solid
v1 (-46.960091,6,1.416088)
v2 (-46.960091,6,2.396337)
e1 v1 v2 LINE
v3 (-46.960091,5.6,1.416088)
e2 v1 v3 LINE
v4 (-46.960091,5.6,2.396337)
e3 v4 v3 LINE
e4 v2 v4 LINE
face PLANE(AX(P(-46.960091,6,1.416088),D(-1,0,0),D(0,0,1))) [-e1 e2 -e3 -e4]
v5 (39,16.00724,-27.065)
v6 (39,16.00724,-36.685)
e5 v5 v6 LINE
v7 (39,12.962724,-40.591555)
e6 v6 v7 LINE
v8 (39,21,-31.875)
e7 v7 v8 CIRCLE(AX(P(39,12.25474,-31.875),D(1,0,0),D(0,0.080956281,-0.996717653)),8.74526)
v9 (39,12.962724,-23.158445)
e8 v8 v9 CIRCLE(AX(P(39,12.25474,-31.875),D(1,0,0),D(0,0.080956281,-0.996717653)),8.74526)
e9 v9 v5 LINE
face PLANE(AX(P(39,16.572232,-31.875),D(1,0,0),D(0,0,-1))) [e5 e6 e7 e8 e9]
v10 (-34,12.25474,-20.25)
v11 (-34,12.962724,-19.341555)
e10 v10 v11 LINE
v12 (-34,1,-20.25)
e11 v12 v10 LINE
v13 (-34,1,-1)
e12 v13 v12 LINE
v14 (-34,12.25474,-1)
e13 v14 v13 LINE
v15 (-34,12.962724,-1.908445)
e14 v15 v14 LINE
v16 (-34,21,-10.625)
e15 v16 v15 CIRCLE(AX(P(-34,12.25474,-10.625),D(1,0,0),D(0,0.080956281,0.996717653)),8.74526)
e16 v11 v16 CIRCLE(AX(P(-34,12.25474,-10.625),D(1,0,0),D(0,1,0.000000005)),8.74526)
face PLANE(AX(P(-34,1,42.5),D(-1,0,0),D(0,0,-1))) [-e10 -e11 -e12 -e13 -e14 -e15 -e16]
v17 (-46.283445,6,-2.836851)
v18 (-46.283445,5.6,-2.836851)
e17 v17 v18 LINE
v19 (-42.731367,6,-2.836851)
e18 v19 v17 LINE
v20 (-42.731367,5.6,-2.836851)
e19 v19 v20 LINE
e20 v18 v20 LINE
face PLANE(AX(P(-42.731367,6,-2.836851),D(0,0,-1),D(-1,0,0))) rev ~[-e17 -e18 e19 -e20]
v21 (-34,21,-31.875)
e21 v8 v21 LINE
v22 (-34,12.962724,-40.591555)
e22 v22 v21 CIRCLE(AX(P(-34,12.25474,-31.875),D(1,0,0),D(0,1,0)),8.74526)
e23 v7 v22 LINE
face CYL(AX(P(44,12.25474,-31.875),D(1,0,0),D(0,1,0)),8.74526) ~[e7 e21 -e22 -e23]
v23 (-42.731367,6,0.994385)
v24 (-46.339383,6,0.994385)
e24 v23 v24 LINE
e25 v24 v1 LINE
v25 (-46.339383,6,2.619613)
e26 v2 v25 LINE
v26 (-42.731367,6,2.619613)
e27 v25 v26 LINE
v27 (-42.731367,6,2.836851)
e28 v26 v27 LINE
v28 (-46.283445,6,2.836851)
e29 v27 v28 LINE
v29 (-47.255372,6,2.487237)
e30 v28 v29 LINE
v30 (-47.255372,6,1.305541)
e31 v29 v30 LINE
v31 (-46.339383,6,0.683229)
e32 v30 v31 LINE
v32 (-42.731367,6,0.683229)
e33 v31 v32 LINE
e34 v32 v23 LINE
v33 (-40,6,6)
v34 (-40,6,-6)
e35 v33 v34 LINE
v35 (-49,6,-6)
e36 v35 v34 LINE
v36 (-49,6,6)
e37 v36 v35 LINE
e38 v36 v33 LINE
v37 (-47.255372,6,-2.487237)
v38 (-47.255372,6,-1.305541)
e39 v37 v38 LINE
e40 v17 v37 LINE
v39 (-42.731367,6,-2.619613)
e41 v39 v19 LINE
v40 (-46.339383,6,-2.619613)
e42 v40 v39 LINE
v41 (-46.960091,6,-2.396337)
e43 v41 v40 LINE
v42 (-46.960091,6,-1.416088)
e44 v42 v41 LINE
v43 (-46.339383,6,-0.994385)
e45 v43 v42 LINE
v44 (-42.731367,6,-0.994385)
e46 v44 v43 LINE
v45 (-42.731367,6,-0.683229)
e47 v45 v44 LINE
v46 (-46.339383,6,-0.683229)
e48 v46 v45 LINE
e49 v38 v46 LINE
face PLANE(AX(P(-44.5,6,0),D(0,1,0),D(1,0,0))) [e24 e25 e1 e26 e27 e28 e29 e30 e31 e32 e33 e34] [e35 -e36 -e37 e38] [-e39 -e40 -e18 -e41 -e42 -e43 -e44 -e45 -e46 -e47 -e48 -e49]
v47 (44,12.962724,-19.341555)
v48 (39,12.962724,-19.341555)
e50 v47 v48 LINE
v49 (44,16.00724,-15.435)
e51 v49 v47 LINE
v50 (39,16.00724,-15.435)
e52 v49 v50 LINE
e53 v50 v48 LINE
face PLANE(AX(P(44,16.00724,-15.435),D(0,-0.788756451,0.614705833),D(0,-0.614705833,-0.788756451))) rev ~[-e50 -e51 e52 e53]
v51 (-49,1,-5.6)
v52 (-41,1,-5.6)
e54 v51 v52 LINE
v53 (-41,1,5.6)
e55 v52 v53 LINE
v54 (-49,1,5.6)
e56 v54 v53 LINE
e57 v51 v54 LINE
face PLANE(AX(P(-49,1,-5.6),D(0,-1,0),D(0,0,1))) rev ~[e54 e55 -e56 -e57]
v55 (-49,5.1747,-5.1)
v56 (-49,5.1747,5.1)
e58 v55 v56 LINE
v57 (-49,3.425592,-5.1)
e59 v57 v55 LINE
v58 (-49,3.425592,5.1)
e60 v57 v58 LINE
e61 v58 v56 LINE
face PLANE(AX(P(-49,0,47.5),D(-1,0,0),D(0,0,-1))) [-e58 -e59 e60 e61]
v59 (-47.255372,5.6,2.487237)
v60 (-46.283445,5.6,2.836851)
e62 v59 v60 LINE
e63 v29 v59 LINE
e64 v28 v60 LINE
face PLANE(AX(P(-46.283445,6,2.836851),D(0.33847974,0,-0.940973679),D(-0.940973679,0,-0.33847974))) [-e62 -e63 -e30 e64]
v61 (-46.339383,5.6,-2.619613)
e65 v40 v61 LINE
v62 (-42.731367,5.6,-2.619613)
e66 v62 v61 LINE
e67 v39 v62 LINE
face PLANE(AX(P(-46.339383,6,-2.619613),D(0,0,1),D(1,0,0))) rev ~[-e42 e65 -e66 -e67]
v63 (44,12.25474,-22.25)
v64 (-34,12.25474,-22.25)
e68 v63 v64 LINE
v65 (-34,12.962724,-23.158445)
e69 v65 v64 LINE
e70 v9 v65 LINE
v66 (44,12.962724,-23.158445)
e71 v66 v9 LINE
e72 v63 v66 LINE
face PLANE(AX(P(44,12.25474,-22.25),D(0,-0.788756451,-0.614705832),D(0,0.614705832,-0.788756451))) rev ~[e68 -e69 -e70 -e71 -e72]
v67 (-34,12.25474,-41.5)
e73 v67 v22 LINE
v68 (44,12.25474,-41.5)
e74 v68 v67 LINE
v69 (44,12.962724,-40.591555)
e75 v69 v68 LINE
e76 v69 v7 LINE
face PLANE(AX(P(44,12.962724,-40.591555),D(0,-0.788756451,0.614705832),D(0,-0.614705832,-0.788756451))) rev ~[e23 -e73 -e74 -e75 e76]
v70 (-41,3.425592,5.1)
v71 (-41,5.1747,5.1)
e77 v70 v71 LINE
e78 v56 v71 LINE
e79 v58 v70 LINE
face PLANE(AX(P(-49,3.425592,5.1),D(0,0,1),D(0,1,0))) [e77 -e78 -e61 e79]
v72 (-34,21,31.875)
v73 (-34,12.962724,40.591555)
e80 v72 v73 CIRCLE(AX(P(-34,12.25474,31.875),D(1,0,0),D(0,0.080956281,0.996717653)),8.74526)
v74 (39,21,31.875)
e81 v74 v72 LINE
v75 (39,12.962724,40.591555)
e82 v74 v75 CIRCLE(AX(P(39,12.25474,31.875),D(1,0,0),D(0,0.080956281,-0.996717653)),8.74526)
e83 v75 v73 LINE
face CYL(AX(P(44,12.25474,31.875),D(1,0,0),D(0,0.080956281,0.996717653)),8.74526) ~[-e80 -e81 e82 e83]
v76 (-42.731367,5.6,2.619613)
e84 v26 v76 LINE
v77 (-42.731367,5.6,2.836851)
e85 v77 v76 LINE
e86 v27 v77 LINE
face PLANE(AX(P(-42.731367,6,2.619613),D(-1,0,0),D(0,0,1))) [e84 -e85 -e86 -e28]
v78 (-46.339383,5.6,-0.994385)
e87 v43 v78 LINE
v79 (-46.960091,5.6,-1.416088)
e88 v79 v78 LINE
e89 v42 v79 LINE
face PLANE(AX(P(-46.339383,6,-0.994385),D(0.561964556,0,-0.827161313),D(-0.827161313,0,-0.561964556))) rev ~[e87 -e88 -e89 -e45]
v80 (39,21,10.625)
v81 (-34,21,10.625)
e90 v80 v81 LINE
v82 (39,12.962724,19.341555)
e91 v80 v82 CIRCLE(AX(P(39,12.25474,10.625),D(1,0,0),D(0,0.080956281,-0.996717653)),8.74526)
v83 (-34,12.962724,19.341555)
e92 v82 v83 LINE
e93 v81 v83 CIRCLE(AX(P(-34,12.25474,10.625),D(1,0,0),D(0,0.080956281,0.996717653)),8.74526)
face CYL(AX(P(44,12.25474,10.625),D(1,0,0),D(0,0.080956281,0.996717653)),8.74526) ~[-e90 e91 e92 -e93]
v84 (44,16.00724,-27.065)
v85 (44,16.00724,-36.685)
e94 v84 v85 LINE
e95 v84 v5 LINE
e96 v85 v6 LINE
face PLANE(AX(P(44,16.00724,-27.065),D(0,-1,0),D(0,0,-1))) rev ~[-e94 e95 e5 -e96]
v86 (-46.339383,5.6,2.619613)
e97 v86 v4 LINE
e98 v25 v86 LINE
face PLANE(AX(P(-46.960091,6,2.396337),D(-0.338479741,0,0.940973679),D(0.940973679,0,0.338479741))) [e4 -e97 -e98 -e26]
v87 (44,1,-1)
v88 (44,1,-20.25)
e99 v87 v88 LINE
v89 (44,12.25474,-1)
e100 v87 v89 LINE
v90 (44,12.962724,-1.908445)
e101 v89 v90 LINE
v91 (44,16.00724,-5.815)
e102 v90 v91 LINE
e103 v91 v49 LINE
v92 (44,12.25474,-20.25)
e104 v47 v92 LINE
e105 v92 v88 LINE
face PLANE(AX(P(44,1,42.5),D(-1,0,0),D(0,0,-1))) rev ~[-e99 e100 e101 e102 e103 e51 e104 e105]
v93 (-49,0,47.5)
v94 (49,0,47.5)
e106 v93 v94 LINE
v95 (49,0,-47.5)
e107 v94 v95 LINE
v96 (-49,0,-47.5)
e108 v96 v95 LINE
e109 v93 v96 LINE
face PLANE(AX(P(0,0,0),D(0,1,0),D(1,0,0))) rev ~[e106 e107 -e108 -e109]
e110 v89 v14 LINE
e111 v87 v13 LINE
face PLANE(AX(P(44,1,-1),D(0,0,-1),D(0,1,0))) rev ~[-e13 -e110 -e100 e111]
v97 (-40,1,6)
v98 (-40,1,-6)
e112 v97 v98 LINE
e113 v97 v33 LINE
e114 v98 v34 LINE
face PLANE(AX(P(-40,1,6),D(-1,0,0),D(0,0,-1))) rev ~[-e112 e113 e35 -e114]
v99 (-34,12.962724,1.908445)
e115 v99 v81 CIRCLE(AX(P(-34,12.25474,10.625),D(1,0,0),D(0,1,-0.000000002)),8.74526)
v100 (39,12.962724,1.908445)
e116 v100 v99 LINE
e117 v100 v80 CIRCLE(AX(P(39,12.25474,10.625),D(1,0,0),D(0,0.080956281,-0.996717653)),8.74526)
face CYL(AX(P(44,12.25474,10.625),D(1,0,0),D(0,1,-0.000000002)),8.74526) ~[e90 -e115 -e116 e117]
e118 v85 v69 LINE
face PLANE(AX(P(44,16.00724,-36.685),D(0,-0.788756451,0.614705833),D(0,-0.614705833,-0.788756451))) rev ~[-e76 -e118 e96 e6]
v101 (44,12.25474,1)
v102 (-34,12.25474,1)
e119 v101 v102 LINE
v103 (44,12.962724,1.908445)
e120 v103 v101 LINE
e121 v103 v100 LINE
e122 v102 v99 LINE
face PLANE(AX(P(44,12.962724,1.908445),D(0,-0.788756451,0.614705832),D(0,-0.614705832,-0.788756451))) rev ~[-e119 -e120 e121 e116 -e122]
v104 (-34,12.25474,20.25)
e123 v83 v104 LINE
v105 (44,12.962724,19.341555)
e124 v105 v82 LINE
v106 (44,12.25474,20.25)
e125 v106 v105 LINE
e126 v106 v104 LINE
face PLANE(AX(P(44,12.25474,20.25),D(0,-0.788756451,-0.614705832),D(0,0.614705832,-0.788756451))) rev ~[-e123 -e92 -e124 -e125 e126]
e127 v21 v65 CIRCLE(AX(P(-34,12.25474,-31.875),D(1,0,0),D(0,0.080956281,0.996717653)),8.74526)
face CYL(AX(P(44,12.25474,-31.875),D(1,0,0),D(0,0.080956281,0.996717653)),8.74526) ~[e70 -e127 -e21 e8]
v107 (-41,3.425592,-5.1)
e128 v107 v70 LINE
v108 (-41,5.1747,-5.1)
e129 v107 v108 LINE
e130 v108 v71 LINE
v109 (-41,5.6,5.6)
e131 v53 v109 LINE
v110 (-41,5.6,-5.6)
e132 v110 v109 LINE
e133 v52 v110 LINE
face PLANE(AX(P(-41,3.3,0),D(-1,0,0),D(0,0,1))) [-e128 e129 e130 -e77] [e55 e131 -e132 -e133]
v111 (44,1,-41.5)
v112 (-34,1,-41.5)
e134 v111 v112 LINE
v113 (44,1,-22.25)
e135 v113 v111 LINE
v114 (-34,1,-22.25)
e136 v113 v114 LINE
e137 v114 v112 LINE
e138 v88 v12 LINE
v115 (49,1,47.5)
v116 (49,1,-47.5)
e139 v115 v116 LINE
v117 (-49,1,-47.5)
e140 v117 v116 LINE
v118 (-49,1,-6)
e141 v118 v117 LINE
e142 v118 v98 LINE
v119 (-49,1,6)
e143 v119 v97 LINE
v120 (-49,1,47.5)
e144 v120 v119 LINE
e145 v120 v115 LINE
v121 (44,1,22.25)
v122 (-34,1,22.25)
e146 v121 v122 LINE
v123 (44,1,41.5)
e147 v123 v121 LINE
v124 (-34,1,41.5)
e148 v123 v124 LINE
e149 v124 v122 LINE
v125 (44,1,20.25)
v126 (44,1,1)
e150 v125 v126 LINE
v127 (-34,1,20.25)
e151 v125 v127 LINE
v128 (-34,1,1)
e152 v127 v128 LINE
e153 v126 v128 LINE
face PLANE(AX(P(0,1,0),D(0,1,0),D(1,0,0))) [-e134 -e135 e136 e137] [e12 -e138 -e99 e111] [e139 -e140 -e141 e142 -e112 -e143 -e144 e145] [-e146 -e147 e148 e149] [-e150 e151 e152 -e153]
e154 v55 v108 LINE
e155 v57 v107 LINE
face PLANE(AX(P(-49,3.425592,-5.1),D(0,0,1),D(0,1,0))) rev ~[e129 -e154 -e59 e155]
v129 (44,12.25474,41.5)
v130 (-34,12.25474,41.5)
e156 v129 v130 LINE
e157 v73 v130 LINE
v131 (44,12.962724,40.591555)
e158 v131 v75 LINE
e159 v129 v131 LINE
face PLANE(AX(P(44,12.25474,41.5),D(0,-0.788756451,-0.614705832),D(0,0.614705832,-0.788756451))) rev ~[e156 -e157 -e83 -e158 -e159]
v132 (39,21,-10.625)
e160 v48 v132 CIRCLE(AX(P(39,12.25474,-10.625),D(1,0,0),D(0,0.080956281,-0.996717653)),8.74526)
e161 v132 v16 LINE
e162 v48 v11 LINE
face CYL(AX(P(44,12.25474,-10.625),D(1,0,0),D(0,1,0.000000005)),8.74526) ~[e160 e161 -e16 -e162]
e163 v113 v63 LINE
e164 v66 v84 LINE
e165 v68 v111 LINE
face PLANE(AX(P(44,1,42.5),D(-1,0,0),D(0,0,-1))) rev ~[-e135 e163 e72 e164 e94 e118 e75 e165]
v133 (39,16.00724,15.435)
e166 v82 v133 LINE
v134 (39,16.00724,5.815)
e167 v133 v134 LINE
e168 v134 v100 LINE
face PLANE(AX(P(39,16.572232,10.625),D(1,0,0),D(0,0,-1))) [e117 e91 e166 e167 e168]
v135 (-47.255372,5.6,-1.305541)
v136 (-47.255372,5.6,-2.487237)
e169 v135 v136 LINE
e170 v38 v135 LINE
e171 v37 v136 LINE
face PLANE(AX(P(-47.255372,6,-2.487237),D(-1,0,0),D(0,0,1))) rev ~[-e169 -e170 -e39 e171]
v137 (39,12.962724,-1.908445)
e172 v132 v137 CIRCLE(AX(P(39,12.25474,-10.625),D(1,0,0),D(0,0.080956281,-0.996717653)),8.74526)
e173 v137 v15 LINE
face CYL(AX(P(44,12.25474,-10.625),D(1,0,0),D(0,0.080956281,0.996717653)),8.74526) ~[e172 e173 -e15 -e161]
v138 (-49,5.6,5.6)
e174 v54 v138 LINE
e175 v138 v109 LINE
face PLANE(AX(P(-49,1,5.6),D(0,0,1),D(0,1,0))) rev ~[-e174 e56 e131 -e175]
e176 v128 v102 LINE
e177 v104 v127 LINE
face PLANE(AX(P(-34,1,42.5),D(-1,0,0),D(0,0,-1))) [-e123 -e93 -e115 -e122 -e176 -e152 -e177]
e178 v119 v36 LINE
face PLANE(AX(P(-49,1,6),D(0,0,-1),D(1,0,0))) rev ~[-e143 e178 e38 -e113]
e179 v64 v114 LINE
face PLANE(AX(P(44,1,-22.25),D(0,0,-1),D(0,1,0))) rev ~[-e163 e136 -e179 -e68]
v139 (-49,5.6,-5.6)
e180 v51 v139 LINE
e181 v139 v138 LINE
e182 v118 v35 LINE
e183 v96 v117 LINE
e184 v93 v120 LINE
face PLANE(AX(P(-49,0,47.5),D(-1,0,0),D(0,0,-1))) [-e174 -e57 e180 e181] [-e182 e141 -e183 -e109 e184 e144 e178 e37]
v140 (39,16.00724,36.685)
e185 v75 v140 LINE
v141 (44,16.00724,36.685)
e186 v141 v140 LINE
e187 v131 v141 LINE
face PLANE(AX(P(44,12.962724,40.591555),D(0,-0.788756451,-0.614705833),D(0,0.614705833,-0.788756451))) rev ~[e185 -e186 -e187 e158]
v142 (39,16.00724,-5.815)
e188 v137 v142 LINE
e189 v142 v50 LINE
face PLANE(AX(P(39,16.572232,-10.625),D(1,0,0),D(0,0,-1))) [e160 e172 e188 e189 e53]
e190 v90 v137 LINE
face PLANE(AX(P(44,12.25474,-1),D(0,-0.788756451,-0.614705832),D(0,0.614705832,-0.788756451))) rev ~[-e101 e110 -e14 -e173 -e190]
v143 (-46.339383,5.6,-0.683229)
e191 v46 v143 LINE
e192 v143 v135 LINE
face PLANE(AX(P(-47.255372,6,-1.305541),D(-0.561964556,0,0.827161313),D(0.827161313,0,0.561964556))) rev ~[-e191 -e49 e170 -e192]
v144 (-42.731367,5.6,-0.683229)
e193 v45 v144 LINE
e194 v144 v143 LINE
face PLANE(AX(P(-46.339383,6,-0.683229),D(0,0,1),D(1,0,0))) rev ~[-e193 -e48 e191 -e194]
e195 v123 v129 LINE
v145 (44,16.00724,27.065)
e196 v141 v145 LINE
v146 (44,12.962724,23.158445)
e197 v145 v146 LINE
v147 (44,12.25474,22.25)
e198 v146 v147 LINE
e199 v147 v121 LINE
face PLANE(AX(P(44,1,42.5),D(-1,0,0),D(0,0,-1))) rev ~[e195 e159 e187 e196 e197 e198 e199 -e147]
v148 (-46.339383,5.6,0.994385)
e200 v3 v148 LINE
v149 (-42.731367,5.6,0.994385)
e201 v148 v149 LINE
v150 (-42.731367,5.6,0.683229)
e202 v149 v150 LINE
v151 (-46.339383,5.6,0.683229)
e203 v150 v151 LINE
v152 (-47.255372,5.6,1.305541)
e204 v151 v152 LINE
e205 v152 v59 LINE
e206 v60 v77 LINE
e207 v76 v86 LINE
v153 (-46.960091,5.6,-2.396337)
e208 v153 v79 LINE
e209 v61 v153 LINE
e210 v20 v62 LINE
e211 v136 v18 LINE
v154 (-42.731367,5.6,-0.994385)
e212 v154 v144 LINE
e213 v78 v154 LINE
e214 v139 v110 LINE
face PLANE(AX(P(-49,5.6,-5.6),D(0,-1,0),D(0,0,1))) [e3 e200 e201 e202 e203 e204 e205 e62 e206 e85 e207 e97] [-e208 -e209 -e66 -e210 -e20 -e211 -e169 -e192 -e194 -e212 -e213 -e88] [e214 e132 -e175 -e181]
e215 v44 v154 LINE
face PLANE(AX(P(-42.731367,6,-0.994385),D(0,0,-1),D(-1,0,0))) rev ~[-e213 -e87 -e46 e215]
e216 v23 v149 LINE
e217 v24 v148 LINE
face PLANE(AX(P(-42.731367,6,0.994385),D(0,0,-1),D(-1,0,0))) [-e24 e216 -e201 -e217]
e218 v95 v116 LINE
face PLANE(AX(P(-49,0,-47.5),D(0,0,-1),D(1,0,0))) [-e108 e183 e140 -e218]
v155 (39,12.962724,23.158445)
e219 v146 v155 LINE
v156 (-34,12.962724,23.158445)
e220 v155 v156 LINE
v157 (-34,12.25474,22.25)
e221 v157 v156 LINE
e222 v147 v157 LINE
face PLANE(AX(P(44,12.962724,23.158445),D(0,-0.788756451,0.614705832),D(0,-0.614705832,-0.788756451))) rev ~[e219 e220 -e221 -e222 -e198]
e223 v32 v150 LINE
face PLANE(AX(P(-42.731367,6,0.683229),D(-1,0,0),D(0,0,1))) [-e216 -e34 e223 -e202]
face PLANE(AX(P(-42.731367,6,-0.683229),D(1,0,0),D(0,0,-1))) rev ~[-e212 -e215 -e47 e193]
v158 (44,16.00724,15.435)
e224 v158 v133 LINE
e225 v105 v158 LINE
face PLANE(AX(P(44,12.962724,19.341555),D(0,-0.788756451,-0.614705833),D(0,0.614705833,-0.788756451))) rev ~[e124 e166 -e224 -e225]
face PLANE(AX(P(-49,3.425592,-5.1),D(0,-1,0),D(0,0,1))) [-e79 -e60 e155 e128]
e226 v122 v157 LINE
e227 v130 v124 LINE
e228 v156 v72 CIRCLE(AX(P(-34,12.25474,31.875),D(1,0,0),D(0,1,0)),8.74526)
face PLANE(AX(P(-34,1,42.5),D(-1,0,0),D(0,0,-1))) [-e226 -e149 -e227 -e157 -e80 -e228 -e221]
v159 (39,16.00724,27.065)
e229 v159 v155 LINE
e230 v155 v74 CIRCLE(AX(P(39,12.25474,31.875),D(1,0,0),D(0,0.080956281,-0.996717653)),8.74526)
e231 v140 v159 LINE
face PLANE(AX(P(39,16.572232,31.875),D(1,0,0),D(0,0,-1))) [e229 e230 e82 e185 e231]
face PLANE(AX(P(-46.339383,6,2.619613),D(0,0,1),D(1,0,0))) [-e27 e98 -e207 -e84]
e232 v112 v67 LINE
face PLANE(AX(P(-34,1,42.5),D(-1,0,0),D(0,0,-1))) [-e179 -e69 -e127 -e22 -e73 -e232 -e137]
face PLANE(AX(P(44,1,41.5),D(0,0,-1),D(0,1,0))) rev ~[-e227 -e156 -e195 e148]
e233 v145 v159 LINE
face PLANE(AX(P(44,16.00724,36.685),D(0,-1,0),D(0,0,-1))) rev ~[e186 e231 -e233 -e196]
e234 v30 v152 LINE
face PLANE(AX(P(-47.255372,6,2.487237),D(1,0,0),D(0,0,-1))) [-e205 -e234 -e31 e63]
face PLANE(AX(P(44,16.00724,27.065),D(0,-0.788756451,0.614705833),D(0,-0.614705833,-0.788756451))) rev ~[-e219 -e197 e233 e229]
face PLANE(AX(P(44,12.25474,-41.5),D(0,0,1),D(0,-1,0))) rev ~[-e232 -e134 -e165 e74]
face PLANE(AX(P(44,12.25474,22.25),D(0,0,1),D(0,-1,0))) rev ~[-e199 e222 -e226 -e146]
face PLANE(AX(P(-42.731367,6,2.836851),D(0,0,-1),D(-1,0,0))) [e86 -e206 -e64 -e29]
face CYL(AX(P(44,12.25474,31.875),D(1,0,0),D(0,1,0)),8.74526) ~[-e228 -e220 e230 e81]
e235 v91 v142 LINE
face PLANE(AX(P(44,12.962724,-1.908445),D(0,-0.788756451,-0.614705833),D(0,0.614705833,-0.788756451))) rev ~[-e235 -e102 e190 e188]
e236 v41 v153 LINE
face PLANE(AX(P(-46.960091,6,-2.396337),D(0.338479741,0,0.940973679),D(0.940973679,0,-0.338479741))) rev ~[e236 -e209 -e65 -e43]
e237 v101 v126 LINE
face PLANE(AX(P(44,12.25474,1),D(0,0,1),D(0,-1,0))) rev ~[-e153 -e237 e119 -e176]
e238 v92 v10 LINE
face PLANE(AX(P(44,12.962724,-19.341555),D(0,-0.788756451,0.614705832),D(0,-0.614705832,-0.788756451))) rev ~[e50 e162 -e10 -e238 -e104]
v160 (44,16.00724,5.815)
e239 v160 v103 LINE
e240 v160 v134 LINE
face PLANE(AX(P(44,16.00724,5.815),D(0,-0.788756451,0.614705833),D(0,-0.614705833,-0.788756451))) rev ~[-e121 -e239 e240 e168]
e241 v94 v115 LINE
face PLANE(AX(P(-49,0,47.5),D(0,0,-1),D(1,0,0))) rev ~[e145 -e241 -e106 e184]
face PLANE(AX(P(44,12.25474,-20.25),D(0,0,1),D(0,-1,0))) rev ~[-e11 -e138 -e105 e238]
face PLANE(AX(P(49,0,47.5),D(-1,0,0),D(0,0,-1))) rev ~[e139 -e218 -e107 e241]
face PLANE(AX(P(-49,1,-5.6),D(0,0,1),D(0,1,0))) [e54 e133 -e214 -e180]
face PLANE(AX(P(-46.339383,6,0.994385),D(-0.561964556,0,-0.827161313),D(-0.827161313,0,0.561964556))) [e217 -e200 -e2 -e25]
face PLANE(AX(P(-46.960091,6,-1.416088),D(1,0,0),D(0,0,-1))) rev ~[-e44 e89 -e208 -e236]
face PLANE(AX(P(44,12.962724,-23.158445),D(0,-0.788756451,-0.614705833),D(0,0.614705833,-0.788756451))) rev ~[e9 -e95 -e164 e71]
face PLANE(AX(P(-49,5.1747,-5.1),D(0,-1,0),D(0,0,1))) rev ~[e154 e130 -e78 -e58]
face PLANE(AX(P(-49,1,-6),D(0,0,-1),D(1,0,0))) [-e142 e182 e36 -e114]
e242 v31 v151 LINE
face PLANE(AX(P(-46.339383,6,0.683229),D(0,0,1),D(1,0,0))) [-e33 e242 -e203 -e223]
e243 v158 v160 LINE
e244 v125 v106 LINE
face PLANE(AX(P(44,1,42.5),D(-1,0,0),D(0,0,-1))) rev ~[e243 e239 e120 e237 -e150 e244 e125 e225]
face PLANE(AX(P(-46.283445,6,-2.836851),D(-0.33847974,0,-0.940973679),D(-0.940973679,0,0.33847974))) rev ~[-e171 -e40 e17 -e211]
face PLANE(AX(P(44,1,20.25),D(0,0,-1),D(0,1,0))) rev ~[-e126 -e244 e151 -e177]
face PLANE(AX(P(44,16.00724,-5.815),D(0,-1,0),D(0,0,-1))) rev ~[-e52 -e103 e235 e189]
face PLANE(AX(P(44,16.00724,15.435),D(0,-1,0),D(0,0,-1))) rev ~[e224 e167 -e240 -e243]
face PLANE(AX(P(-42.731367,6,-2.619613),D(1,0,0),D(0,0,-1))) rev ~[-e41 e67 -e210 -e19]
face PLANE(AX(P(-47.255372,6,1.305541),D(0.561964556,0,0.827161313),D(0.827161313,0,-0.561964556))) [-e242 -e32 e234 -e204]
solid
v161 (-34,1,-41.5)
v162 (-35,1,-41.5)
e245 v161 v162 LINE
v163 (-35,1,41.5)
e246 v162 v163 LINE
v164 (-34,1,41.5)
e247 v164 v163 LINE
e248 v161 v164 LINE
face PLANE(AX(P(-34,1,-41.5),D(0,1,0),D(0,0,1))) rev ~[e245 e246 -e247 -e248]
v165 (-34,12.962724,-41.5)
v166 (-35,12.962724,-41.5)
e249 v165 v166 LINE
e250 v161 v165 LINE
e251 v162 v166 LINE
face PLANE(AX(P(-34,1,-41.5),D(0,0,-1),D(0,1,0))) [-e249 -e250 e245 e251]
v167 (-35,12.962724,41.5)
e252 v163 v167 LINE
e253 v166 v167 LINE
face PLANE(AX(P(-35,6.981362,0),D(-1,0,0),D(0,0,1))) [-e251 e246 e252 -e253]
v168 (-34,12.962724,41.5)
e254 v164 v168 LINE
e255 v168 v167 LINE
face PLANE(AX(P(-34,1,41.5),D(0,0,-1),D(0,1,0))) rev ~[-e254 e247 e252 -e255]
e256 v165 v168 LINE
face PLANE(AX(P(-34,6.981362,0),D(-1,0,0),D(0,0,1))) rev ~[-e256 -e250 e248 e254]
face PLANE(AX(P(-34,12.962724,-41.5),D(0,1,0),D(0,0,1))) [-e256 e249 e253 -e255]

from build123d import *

# Parameters (mm, degrees)
SKETCH_1_W          = 98
SKETCH_1_H          = 95
EXTRUDE_1_DEPTH     = 1
SKETCH_2_W          = 78
SKETCH_2_H          = 85
EXTRUDE_2_DEPTH     = 20
CUT_EXTRUDE_1_DEPTH = 100
CUT_EXTRUDE_2_DEPTH = 5
SKETCH_5_W          = 9
SKETCH_5_H          = 12
EXTRUDE_3_DEPTH     = 5
SKETCH_6_W          = 11.2
SKETCH_6_H          = 4.6
SKETCH_6_W_2        = 10.2
SKETCH_6_H_2        = 1.749108458
CUT_EXTRUDE_4_DEPTH = 8
CUT_EXTRUDE_5_DEPTH = 0.5
SKETCH_8_W          = 83
SKETCH_8_H          = 11.962724137
EXTRUDE_4_DEPTH     = 1


with BuildPart() as part:
    # 스케치1 → 보스-돌출1 (new body)
    with BuildSketch(Plane(origin=(0, 0, 0), x_dir=(1, 0, 0), z_dir=(0, 1, 0))):
        Rectangle(SKETCH_1_W, SKETCH_1_H)
    extrude(amount=EXTRUDE_1_DEPTH)

    # 스케치2 → 보스-돌출2 (add)
    with BuildSketch(Plane(origin=(0, 1, 0), x_dir=(1, 0, 0), z_dir=(0, 1, 0))):
        with Locations((5, 0)):
            Rectangle(SKETCH_2_W, SKETCH_2_H)
    extrude(amount=EXTRUDE_2_DEPTH)

    # 스케치4 → 컷-돌출1 (cut)
    with BuildSketch(Plane(origin=(44, 0, 0), x_dir=(0, 0, -1), z_dir=(1, 0, 0))):
        with BuildLine():
            Line((-42.5, 1), (-41.5, 1))
            Line((-41.5, 1), (-41.5, 12.254740451))
            Line((-41.5, 12.254740451), (-40.591554577, 12.962724137))
            ThreePointArc((-40.591554577, 12.962724137), (-37.80324019, 18.684012014), (-31.875, 21))
            Line((-31.875, 21), (-42.5, 21))
            Line((-42.5, 21), (-42.5, 1))
        make_face()
        with BuildLine():
            Line((-22.25, 12.254740451), (-22.25, 1))
            Line((-22.25, 1), (-20.25, 1))
            Line((-20.25, 1), (-20.25, 12.254740451))
            Line((-20.25, 12.254740451), (-19.341554577, 12.962724137))
            ThreePointArc((-19.341554577, 12.962724137), (-16.553240185, 18.684012019), (-10.624999986, 21))
            Line((-10.624999986, 21), (-31.875, 21))
            ThreePointArc((-31.875, 21), (-25.94675981, 18.684012014), (-23.158445423, 12.962724137))
            Line((-23.158445423, 12.962724137), (-22.25, 12.254740451))
        make_face()
        with BuildLine():
            Line((-1, 12.254740451), (-1, 1))
            Line((-1, 1), (1, 1))
            Line((1, 1), (1, 12.254740451))
            Line((1, 12.254740451), (1.908445423, 12.962724137))
            ThreePointArc((1.908445423, 12.962724137), (4.696759796, 18.684012001), (10.62499996, 21))
            Line((10.62499996, 21), (-10.624999986, 21))
            ThreePointArc((-10.624999986, 21), (-4.696759805, 18.68401201), (-1.908445423, 12.962724137))
            Line((-1.908445423, 12.962724137), (-1, 12.254740451))
        make_face()
        with BuildLine():
            Line((20.25, 12.254740451), (20.25, 1))
            Line((20.25, 1), (22.25, 1))
            Line((22.25, 1), (22.25, 12.254740451))
            Line((22.25, 12.254740451), (23.158445423, 12.962724137))
            ThreePointArc((23.158445423, 12.962724137), (25.94675981, 18.684012014), (31.875, 21))
            Line((31.875, 21), (10.62499996, 21))
            ThreePointArc((10.62499996, 21), (16.553240175, 18.684012028), (19.341554577, 12.962724137))
            Line((19.341554577, 12.962724137), (20.25, 12.254740451))
        make_face()
        with BuildLine():
            Line((42.5, 21), (31.875, 21))
            ThreePointArc((31.875, 21), (37.80324019, 18.684012014), (40.591554577, 12.962724137))
            Line((40.591554577, 12.962724137), (41.5, 12.254740451))
            Line((41.5, 12.254740451), (41.5, 1))
            Line((41.5, 1), (42.5, 1))
            Line((42.5, 1), (42.5, 21))
        make_face()
    extrude(amount=-CUT_EXTRUDE_1_DEPTH, mode=Mode.SUBTRACT)

    # 스케치4<3> → 컷-돌출2 (cut)
    with BuildSketch(Plane(origin=(44, 0, 0), x_dir=(0, 0, -1), z_dir=(1, 0, 0))):
        with BuildLine():
            ThreePointArc((-23.158445423, 12.962724137), (-31.875, 21), (-40.591554577, 12.962724137))
            Line((-40.591554577, 12.962724137), (-36.685, 16.007240451))
            Line((-36.685, 16.007240451), (-27.065, 16.007240451))
            Line((-27.065, 16.007240451), (-23.158445423, 12.962724137))
        make_face()
        with BuildLine():
            Line((-5.815, 16.007240451), (-1.908445423, 12.962724137))
            ThreePointArc((-1.908445423, 12.962724137), (-10.625, 21), (-19.341554577, 12.962724137))
            Line((-19.341554577, 12.962724137), (-15.435, 16.007240451))
            Line((-15.435, 16.007240451), (-5.815, 16.007240451))
        make_face()
        with BuildLine():
            Line((15.435, 16.007240451), (19.341554577, 12.962724137))
            ThreePointArc((19.341554577, 12.962724137), (10.625, 21), (1.908445423, 12.962724137))
            Line((1.908445423, 12.962724137), (5.815, 16.007240451))
            Line((5.815, 16.007240451), (15.435, 16.007240451))
        make_face()
        with BuildLine():
            Line((36.685, 16.007240451), (40.591554577, 12.962724137))
            ThreePointArc((40.591554577, 12.962724137), (31.875, 21), (23.158445423, 12.962724137))
            Line((23.158445423, 12.962724137), (27.065, 16.007240451))
            Line((27.065, 16.007240451), (36.685, 16.007240451))
        make_face()
    extrude(amount=-CUT_EXTRUDE_2_DEPTH, mode=Mode.SUBTRACT)

    # 스케치5 → 보스-돌출3 (add)
    with BuildSketch(Plane(origin=(0, 1, 0), x_dir=(1, 0, 0), z_dir=(0, 1, 0))):
        with Locations((-44.5, 0)):
            Rectangle(SKETCH_5_W, SKETCH_5_H)
    extrude(amount=EXTRUDE_3_DEPTH)

    # 스케치6 → 컷-돌출4 (cut)
    with BuildSketch(Plane.ZY.offset(49)):
        with Locations((0, 3.3)):
            Rectangle(SKETCH_6_W, SKETCH_6_H)
        with Locations((0, 4.300145796)):
            Rectangle(SKETCH_6_W_2, SKETCH_6_H_2, mode=Mode.SUBTRACT)
    extrude(amount=-CUT_EXTRUDE_4_DEPTH, mode=Mode.SUBTRACT)

    # 스케치7 → 컷-돌출5 (cut)
    with BuildSketch(Plane(origin=(0, 6, 0), x_dir=(1, 0, 0), z_dir=(0, 1, 0))):
        Polygon((-42.731367286, 2.836850655), (-46.283445156, 2.836850655), (-47.255371975, 2.487236692), (-47.255371975, 1.305541495), (-46.33938339, 0.68322864), (-42.731367286, 0.68322864), (-42.731367286, 0.994385067), (-46.33938339, 0.994385067), (-46.960091467, 1.416087501), (-46.960091467, 2.396337061), (-46.33938339, 2.619613348), (-42.731367286, 2.619613348), align=None)
        Polygon((-42.731367286, -2.836850655), (-46.283445156, -2.836850655), (-47.255371975, -2.487236692), (-47.255371975, -1.305541495), (-46.33938339, -0.68322864), (-42.731367286, -0.68322864), (-42.731367286, -0.994385067), (-46.33938339, -0.994385067), (-46.960091467, -1.416087501), (-46.960091467, -2.396337061), (-46.33938339, -2.619613348), (-42.731367286, -2.619613348), align=None)
    extrude(amount=-CUT_EXTRUDE_5_DEPTH, mode=Mode.SUBTRACT)


with BuildPart() as body_2:
    # 스케치8 → 보스-돌출4 (new body)
    with BuildSketch(Plane.ZY.offset(34)):
        with Locations((0, 6.981362069)):
            Rectangle(SKETCH_8_W, SKETCH_8_H)
    extrude(amount=EXTRUDE_4_DEPTH)


solid = Compound([part.part, body_2.part])
